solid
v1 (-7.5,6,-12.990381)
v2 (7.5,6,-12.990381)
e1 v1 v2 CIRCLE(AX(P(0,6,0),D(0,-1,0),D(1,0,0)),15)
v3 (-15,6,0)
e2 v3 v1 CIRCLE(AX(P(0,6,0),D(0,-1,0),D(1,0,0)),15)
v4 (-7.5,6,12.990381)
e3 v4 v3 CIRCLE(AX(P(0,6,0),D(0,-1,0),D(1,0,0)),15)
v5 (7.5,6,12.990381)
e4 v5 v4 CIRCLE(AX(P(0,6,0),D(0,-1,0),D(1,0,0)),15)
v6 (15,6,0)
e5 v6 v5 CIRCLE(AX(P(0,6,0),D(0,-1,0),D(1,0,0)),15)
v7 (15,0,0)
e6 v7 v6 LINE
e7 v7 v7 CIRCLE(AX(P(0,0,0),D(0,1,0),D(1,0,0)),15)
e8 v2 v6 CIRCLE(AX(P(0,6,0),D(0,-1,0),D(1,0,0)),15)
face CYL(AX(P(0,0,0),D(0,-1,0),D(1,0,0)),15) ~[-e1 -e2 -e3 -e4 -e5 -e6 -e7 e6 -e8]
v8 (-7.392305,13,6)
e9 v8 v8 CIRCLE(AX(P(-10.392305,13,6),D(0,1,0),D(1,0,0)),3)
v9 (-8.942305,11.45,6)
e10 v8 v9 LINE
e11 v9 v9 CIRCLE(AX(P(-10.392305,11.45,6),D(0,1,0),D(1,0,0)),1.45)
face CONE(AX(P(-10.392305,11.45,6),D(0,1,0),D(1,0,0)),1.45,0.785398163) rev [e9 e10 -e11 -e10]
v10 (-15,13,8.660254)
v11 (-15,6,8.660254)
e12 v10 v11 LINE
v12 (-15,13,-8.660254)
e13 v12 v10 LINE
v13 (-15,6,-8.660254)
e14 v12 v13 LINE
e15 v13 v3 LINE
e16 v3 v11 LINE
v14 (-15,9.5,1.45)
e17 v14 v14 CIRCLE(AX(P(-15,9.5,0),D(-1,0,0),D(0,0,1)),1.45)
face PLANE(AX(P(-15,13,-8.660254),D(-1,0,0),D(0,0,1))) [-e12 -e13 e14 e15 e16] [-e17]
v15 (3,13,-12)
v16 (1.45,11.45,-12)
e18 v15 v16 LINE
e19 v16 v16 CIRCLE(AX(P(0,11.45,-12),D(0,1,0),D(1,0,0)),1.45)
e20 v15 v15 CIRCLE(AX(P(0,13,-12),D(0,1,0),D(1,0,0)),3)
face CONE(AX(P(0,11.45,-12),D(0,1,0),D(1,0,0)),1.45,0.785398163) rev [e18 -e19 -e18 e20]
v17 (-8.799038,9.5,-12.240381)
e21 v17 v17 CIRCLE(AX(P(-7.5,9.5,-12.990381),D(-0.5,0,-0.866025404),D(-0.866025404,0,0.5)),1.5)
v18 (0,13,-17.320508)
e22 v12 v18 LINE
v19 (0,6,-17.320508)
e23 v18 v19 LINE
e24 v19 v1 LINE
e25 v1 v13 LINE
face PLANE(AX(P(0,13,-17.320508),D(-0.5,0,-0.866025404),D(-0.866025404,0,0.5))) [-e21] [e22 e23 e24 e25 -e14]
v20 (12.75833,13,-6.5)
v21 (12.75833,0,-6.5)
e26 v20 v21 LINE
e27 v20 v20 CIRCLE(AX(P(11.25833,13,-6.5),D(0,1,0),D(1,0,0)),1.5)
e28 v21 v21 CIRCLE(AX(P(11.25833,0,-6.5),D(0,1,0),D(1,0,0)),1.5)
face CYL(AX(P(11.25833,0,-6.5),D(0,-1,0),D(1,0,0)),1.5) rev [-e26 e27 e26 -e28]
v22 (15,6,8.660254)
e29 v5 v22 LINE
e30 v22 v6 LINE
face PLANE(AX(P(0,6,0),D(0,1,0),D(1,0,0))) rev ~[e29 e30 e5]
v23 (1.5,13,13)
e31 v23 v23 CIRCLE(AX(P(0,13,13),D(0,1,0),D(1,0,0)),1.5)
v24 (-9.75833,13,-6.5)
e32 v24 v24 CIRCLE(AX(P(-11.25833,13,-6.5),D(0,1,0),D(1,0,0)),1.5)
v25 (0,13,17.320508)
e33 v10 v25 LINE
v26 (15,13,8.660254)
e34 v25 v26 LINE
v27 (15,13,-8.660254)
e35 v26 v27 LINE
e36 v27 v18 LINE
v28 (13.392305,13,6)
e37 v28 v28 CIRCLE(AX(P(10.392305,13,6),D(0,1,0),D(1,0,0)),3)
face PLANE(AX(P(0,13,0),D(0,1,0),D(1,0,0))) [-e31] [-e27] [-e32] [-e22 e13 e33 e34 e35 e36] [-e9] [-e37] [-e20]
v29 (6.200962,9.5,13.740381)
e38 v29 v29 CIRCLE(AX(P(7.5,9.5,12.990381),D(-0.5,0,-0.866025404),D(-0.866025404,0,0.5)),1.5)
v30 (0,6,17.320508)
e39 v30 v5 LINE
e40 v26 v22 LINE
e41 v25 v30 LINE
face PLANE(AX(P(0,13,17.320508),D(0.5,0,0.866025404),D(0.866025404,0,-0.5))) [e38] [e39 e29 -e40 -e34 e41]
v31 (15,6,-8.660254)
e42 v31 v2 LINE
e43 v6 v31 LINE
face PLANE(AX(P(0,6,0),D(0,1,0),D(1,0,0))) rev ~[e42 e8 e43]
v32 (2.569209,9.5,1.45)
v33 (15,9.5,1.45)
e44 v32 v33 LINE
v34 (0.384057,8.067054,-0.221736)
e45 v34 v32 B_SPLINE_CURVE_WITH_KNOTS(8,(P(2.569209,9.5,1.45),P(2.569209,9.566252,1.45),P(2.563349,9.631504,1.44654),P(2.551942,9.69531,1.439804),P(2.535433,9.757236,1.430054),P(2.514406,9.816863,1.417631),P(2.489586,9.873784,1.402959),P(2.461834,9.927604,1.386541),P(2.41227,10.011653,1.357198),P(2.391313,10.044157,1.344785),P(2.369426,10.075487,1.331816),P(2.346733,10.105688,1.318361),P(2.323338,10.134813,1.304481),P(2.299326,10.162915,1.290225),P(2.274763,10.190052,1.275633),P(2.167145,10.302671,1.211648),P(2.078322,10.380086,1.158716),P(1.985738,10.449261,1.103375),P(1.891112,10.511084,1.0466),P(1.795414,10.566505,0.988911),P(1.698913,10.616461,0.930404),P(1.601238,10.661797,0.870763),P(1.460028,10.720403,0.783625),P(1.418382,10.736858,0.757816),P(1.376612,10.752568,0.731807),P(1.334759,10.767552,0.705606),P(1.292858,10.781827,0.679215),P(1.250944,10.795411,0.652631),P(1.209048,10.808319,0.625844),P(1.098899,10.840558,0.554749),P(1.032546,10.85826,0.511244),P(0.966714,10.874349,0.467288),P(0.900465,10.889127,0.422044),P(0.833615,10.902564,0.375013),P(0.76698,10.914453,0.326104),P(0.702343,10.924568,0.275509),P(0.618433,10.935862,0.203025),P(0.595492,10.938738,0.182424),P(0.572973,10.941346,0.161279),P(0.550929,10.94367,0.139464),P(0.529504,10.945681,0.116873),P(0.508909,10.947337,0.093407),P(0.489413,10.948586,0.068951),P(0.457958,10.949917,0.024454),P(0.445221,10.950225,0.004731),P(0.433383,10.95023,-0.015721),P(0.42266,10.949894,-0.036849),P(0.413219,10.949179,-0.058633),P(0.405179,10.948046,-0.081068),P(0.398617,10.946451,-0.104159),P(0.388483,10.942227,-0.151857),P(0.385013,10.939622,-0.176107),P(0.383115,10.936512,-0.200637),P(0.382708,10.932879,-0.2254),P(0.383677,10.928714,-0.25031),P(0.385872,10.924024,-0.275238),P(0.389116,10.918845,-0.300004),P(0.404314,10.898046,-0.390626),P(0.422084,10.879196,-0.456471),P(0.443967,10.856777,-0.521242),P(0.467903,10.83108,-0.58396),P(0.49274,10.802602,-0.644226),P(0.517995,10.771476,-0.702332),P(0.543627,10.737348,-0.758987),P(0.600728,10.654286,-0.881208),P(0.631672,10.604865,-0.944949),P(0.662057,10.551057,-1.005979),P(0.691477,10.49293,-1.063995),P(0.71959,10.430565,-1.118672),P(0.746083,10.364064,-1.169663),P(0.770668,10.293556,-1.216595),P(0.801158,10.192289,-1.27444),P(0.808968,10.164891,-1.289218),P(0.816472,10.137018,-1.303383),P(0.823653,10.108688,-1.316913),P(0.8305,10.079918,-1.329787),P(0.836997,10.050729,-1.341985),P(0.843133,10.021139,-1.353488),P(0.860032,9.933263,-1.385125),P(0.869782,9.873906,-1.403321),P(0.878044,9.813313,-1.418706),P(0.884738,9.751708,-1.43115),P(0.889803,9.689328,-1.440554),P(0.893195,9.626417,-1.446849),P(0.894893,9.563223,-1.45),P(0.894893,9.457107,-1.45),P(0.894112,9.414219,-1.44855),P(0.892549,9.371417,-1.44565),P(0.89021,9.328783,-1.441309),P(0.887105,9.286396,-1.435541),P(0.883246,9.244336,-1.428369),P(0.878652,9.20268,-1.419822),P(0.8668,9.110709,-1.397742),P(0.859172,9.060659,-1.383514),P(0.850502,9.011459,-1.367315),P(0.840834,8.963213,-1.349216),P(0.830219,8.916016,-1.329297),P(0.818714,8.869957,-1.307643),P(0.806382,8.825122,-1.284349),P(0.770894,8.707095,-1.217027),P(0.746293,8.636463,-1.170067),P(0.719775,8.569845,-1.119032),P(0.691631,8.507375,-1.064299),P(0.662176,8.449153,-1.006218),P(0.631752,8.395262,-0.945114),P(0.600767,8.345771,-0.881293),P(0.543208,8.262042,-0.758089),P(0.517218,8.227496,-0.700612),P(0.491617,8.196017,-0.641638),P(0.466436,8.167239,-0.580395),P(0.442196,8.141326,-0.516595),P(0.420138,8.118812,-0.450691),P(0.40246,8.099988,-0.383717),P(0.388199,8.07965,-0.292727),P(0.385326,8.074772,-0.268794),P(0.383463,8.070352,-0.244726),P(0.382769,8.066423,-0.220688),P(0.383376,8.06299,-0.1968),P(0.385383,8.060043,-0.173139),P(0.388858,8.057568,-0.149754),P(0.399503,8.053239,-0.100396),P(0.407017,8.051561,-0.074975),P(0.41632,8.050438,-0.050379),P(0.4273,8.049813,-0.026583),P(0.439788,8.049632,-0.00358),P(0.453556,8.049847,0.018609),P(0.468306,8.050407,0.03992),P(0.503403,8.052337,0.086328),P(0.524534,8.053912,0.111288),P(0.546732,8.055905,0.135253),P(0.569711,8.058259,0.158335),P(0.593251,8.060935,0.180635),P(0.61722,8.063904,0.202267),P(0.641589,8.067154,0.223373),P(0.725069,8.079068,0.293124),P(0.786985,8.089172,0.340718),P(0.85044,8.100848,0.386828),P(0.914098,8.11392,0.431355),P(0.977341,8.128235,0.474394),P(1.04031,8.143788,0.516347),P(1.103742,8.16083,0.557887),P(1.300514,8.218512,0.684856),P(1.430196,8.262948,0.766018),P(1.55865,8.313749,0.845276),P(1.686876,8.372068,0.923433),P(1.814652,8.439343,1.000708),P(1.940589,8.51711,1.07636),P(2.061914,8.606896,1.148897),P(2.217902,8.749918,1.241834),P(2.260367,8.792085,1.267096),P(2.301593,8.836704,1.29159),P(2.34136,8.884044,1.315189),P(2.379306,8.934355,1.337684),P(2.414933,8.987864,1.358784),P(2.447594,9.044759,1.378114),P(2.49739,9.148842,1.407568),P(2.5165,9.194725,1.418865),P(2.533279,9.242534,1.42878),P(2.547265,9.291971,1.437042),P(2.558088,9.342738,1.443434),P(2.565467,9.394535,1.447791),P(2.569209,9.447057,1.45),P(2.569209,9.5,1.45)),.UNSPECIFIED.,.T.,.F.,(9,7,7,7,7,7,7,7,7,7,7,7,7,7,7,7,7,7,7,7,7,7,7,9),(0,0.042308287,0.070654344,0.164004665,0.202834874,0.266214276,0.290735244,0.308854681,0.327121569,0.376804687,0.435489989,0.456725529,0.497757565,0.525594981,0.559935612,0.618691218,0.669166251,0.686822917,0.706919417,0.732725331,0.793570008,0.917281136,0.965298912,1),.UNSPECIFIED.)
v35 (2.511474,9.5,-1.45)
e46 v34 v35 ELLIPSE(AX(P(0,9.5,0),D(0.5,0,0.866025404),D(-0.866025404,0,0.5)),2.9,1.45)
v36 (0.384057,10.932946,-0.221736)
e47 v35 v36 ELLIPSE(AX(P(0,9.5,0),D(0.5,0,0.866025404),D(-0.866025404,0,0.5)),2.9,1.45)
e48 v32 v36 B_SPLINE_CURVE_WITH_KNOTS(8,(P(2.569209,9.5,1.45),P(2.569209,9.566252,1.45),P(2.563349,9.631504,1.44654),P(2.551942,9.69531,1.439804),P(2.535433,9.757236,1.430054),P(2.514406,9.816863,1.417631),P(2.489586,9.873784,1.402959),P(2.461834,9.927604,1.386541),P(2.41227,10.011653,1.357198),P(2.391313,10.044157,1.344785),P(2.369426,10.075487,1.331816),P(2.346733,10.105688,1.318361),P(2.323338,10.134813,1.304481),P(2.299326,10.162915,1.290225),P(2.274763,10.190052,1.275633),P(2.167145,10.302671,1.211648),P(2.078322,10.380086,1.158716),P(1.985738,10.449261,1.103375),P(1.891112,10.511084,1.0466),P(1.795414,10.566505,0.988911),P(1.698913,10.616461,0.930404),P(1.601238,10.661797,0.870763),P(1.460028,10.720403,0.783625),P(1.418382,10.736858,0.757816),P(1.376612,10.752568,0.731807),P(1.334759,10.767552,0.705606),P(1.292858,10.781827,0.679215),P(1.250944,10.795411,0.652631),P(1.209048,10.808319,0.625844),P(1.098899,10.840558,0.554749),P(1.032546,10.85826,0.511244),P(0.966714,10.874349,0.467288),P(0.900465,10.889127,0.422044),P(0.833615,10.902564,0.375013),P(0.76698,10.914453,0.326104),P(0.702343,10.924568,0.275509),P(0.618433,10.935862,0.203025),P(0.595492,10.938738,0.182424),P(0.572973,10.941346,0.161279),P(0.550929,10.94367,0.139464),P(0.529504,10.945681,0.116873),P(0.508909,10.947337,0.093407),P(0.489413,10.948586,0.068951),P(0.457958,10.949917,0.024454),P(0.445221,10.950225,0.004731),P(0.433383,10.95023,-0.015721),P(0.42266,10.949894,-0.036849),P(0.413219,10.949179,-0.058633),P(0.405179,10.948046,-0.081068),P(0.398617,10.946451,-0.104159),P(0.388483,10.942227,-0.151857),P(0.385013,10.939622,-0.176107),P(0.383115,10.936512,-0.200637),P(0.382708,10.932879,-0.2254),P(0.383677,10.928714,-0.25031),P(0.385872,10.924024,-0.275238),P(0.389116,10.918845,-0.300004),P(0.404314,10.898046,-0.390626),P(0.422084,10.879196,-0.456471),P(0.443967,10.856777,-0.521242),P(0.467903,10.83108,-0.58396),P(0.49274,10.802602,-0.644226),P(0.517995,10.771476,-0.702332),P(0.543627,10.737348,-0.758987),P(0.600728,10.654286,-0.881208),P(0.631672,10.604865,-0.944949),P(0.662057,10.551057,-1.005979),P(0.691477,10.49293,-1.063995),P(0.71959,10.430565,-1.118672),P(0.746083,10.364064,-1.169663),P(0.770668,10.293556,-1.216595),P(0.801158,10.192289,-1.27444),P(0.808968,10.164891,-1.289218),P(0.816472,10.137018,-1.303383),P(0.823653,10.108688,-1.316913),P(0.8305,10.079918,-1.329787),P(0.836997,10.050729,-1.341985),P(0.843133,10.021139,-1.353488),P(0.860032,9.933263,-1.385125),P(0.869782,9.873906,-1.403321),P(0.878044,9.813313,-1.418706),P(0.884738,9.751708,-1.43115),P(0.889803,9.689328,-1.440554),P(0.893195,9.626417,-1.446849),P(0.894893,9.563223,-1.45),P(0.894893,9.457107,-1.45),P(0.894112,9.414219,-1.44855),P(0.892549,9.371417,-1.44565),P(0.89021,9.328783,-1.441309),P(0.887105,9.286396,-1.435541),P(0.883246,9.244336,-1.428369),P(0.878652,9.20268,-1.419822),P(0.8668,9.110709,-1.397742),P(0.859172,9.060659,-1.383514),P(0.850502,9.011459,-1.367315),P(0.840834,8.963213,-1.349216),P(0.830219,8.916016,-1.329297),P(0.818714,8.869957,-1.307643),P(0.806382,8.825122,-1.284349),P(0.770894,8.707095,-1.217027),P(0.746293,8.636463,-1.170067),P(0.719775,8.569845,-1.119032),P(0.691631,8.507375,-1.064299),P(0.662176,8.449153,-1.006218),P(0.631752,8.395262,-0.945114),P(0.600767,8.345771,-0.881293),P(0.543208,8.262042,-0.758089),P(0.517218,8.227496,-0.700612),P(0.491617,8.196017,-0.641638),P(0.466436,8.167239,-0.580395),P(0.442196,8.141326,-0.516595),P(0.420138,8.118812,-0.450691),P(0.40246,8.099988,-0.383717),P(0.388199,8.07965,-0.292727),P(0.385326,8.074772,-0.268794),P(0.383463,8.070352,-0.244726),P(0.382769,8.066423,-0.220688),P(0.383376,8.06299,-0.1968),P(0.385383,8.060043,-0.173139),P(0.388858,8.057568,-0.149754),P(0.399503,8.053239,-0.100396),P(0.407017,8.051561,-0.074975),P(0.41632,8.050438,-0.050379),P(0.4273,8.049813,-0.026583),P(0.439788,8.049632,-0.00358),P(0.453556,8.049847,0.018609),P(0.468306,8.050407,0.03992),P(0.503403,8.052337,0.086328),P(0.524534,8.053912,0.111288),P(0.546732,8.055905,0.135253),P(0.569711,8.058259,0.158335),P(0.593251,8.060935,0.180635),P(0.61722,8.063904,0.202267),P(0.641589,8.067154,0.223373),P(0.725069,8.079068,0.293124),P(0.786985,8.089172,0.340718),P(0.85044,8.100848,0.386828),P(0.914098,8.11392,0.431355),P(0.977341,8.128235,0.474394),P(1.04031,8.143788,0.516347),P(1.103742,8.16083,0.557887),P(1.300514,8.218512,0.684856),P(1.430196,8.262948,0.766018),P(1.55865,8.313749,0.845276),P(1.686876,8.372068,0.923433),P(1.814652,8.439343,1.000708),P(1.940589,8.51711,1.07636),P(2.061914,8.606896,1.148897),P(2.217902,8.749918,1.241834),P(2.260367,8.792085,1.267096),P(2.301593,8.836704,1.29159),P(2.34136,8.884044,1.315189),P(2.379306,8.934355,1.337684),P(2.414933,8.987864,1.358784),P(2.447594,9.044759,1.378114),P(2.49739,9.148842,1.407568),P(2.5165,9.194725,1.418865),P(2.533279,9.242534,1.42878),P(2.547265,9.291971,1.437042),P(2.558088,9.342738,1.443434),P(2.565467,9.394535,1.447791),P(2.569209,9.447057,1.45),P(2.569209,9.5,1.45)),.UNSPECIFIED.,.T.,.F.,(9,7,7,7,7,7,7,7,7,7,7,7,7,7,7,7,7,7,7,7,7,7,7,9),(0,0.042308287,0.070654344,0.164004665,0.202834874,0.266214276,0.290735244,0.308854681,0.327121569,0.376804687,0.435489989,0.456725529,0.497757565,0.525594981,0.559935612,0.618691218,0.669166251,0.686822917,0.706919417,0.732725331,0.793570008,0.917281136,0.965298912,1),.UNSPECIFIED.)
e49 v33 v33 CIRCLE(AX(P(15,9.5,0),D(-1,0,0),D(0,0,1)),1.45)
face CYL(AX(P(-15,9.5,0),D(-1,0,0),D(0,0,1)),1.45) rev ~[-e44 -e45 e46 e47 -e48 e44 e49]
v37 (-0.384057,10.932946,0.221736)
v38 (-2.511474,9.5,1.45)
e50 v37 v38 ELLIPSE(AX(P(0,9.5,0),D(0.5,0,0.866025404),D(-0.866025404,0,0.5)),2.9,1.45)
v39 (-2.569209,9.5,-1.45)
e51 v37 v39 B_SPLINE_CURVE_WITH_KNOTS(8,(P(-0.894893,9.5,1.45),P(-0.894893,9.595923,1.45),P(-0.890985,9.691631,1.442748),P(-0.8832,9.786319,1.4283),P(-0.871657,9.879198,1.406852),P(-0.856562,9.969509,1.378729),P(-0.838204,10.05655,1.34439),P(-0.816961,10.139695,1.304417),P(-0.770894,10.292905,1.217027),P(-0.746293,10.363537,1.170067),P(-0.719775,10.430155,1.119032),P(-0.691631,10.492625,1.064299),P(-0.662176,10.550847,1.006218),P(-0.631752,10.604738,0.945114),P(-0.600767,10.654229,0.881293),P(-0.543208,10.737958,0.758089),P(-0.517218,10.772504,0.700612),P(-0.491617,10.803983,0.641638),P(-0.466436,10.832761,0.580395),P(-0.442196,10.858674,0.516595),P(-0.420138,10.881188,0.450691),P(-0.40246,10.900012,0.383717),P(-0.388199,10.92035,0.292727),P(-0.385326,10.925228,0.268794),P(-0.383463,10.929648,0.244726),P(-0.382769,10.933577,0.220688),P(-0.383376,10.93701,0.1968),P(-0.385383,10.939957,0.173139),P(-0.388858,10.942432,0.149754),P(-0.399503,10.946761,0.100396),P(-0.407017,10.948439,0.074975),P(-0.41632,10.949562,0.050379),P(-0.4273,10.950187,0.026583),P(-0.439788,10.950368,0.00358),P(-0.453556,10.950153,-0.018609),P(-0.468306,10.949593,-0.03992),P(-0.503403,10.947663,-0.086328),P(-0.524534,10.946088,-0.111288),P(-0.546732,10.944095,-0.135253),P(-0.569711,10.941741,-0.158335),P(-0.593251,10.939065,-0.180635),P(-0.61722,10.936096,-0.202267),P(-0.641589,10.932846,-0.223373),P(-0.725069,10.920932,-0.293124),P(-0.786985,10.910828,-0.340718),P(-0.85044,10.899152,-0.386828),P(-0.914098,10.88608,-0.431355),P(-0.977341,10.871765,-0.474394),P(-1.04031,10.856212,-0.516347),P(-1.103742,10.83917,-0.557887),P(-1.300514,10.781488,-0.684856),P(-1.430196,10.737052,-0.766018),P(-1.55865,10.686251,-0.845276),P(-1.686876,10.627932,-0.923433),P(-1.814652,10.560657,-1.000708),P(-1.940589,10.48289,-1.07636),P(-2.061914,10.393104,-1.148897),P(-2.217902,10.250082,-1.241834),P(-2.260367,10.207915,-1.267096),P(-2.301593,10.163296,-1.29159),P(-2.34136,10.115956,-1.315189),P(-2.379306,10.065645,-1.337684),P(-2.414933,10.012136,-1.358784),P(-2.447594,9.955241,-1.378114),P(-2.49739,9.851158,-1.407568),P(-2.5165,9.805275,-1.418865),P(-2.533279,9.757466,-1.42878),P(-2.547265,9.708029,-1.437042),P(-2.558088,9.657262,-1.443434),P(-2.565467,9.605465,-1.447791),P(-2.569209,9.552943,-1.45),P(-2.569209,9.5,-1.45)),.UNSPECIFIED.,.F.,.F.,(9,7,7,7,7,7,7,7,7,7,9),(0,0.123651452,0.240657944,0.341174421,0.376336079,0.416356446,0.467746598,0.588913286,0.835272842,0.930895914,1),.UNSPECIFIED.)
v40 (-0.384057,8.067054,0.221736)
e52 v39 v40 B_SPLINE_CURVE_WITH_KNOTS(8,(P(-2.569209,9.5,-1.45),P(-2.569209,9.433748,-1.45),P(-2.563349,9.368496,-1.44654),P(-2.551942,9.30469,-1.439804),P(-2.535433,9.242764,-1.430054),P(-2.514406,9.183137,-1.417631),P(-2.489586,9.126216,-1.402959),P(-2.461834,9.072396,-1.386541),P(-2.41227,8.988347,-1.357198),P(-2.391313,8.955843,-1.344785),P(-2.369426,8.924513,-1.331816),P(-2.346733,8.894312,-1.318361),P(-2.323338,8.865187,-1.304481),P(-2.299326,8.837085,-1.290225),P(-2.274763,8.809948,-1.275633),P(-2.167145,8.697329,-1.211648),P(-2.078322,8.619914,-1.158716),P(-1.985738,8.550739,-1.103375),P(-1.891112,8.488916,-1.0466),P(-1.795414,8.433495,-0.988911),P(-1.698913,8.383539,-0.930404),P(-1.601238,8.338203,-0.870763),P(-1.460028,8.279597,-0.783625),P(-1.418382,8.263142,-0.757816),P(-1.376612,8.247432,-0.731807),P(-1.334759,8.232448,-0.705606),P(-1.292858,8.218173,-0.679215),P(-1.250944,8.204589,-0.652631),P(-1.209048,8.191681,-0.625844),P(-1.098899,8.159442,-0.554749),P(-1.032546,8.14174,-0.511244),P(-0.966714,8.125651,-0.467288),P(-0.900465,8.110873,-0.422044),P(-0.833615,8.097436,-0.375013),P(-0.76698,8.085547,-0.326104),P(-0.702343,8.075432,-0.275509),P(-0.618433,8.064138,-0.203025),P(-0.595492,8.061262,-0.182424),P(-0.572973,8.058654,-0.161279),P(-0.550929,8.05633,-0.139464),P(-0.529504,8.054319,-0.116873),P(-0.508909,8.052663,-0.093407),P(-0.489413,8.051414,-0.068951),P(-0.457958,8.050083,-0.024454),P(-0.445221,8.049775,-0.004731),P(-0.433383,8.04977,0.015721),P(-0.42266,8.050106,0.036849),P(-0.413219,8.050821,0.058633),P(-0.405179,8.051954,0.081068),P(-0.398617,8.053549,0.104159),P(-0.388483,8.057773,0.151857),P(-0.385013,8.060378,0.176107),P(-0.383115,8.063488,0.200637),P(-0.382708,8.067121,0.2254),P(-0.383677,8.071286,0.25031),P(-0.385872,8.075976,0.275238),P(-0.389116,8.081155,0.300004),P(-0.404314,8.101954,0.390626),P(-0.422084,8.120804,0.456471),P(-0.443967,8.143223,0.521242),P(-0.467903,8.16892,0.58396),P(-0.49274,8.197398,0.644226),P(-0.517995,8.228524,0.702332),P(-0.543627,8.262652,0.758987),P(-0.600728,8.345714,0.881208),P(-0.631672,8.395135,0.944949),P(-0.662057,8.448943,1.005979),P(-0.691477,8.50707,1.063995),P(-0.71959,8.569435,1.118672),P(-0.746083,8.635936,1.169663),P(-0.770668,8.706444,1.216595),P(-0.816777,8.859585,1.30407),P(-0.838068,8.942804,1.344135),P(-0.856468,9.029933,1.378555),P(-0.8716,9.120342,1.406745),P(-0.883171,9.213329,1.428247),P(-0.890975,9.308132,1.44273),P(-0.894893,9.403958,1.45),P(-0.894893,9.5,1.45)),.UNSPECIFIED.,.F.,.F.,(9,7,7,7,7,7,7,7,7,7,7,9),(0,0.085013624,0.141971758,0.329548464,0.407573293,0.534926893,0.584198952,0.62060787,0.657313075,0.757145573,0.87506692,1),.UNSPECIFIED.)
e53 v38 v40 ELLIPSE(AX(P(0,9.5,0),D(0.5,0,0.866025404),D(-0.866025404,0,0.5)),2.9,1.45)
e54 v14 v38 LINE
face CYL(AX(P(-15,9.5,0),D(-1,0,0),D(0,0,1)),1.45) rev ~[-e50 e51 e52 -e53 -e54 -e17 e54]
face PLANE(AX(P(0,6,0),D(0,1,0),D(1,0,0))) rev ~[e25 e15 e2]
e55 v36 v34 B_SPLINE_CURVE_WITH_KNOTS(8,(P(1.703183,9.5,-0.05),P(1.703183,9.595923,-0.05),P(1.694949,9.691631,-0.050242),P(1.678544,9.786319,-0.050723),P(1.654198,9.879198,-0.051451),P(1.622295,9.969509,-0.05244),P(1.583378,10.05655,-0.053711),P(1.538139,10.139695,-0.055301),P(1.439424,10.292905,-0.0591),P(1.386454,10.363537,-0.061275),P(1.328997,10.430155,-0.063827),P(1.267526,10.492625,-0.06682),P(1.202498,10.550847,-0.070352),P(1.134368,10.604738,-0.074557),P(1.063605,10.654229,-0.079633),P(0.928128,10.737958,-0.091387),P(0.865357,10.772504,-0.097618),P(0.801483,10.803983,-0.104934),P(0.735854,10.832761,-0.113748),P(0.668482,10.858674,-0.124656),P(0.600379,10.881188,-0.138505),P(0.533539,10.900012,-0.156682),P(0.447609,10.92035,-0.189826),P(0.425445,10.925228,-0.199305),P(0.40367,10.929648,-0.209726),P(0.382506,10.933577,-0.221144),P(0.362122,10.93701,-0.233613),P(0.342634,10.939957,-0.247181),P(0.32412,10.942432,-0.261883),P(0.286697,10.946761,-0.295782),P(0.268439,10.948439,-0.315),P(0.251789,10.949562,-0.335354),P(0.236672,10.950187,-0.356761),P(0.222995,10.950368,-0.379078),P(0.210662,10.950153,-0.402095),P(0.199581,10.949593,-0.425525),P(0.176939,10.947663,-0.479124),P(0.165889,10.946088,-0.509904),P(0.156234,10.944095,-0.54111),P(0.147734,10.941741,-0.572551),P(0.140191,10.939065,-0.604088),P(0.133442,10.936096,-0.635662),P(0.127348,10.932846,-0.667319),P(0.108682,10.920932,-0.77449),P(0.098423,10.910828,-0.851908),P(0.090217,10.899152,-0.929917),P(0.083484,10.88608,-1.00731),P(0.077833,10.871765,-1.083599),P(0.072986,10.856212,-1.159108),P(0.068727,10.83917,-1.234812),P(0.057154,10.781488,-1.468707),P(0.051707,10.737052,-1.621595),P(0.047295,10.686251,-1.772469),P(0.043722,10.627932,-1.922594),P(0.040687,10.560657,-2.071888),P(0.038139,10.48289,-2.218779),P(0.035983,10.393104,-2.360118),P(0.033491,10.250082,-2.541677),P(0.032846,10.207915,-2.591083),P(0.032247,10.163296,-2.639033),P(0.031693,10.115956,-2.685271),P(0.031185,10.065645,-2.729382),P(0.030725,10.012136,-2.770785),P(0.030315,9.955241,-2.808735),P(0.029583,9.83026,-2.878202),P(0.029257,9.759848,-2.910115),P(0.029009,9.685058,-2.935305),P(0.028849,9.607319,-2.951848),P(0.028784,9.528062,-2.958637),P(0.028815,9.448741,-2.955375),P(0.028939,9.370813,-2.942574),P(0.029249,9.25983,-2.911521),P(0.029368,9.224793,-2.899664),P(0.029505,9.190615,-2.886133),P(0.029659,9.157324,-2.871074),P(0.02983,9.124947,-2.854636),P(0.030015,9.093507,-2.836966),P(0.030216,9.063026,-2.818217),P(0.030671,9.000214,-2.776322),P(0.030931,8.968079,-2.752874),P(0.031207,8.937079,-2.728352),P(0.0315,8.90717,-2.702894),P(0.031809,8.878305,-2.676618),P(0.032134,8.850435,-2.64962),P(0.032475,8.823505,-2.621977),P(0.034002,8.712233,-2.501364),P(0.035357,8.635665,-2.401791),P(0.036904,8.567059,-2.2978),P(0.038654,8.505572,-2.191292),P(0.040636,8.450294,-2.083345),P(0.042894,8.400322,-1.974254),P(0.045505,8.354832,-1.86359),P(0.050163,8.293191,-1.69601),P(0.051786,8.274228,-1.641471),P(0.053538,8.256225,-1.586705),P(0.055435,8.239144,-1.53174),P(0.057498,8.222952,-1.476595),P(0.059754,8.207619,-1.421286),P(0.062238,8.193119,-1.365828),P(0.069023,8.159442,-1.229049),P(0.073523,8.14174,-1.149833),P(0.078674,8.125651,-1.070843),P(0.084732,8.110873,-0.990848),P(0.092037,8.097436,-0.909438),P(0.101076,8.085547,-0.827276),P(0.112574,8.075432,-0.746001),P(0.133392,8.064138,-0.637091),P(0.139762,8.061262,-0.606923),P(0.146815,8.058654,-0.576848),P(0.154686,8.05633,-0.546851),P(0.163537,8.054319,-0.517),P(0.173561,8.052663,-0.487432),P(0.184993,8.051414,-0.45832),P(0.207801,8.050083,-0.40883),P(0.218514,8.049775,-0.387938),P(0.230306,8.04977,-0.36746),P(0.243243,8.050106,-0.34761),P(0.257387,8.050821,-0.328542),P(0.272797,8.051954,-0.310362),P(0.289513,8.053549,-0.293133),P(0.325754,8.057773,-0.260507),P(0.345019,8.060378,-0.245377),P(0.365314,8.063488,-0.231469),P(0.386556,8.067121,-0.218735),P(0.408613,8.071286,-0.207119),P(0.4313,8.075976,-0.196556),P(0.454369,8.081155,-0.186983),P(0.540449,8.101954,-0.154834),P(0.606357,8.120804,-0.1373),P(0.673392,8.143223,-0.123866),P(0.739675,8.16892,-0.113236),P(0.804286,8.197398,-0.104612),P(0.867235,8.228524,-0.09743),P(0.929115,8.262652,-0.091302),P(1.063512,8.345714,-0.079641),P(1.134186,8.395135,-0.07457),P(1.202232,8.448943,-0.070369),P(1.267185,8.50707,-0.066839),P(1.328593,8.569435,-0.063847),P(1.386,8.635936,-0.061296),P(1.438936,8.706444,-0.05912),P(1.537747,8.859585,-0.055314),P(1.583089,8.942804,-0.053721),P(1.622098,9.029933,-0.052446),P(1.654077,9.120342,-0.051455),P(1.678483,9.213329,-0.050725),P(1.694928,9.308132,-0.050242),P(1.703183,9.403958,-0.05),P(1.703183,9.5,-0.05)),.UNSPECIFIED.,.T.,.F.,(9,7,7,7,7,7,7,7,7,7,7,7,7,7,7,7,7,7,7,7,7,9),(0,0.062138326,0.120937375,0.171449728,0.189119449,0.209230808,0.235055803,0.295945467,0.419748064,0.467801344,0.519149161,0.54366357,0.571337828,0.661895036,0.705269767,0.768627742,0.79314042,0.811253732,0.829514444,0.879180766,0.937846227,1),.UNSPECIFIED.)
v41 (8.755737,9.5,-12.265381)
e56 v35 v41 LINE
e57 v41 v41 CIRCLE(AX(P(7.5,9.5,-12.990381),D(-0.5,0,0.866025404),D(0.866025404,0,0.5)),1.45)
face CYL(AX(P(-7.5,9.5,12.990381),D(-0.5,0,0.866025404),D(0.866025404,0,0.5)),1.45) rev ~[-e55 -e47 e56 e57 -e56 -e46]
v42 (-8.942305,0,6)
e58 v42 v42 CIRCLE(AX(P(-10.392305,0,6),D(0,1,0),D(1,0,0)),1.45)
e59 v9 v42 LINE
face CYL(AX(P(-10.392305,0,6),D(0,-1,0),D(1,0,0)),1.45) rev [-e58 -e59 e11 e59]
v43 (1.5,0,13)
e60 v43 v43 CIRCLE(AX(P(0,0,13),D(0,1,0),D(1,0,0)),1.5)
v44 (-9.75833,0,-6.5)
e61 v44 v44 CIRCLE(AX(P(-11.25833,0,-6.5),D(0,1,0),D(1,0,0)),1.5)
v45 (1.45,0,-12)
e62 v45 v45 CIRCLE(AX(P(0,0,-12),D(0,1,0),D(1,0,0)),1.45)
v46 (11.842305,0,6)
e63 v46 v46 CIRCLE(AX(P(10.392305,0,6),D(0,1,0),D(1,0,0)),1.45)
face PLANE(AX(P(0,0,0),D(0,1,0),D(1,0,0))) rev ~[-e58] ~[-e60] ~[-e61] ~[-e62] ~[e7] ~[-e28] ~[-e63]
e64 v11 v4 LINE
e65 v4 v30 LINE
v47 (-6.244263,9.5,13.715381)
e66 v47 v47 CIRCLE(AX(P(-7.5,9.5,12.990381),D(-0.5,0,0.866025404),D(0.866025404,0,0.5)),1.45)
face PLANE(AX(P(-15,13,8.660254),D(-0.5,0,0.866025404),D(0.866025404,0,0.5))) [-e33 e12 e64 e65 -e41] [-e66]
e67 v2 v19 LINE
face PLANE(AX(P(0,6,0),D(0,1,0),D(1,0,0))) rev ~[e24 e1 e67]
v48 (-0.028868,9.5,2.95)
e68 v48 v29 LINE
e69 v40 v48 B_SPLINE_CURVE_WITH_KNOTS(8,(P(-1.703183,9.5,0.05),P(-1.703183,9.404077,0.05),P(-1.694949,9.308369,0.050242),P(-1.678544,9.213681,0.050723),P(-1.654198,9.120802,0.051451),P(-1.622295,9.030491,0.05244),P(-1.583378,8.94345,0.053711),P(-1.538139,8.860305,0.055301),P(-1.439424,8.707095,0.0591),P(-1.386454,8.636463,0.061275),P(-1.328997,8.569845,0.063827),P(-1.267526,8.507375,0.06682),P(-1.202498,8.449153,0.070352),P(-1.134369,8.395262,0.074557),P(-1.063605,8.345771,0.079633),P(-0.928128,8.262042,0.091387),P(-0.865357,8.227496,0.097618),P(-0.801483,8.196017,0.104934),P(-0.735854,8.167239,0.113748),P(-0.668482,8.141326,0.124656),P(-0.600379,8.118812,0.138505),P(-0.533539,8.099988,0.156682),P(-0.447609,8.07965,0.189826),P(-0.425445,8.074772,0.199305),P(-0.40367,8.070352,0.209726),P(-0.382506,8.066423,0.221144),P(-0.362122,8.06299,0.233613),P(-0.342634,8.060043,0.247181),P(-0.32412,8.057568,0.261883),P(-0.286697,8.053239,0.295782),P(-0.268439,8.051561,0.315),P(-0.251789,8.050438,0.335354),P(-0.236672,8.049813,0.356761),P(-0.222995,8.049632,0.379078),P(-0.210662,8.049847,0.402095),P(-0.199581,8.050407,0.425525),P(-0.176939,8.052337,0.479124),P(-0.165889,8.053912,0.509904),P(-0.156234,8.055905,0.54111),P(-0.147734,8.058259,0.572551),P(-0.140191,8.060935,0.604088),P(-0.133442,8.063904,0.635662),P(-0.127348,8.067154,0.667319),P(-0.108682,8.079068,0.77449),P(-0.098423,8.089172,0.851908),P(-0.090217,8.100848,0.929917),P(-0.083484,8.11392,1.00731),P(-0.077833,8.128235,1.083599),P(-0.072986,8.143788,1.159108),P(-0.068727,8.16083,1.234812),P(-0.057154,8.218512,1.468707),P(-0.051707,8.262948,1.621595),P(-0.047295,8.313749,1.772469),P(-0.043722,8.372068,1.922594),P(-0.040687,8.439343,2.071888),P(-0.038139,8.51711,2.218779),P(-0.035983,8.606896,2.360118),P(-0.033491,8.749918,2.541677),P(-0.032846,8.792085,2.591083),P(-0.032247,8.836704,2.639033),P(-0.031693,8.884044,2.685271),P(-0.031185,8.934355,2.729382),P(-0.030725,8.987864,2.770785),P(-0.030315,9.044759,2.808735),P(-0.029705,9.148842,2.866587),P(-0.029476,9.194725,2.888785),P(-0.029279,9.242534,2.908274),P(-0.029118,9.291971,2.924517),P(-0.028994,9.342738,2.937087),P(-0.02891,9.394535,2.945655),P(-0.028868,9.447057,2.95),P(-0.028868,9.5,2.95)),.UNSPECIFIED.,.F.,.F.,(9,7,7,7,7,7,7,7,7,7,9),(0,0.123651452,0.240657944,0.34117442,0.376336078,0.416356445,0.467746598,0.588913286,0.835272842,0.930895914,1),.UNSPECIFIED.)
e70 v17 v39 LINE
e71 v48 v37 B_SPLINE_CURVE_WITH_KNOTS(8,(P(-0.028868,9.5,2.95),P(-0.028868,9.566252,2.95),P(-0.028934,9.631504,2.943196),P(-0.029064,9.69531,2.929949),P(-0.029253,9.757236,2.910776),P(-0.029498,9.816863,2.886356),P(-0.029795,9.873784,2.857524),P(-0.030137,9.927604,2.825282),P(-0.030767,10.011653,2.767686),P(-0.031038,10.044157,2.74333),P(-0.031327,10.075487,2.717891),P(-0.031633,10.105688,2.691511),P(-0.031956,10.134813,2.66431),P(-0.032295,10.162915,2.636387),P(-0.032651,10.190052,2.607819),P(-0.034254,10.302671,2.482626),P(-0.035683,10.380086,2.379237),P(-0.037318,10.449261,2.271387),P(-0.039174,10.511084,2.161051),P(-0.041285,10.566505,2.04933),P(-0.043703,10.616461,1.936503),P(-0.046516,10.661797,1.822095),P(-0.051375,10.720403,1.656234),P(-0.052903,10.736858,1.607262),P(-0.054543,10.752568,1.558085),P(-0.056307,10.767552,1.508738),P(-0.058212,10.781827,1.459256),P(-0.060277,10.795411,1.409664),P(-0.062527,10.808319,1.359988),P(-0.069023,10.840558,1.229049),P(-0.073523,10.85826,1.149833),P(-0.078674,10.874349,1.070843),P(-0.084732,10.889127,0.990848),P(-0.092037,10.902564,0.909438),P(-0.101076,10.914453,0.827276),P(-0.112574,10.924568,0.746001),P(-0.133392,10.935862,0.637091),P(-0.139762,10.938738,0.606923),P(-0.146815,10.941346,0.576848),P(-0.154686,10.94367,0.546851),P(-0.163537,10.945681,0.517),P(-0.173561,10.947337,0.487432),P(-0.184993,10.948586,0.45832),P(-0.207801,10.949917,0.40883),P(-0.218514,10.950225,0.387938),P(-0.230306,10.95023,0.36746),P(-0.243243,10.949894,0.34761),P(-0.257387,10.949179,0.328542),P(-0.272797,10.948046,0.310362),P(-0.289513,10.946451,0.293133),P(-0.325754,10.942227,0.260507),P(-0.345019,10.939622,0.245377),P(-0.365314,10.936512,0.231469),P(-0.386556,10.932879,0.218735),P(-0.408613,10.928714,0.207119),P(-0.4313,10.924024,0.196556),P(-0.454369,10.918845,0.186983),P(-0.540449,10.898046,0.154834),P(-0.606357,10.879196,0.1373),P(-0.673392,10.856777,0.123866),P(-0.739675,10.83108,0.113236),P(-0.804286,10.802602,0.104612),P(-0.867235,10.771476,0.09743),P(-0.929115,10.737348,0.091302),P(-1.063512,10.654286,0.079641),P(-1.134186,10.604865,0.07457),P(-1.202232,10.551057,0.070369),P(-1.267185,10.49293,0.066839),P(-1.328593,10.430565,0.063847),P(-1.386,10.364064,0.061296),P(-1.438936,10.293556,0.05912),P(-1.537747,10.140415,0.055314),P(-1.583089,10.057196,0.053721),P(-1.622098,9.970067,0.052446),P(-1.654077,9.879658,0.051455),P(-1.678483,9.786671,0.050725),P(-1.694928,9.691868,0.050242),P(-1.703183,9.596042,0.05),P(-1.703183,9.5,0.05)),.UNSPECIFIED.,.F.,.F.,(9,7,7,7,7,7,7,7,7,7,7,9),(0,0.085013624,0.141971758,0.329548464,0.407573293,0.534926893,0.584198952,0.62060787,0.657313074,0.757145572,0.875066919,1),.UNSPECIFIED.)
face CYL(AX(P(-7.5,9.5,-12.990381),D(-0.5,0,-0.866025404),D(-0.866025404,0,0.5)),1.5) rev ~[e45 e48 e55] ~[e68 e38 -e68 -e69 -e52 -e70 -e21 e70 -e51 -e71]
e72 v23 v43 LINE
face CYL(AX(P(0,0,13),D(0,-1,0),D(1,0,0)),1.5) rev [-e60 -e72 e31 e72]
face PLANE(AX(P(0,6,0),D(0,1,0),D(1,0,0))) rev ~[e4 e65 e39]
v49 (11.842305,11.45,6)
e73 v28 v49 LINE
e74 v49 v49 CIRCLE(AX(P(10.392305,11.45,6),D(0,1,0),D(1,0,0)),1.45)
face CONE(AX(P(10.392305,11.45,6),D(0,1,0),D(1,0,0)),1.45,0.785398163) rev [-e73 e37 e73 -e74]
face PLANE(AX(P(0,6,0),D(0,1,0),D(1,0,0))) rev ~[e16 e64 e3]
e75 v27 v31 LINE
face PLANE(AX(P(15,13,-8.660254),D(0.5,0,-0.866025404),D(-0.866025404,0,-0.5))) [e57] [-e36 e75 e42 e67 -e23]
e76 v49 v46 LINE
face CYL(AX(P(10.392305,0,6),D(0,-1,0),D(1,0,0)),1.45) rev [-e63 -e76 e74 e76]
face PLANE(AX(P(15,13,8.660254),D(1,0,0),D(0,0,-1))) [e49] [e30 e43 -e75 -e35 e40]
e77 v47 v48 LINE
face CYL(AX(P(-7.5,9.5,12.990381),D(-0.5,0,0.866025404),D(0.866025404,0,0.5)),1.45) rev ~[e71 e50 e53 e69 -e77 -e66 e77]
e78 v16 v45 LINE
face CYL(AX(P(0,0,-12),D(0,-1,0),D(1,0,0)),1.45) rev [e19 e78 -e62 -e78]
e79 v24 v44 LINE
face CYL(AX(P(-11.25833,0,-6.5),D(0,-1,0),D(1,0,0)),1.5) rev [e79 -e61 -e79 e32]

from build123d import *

# Parameters (mm, degrees)
SKETCH_1_R          = 15
SKETCH_1_R_2        = 1.45
SKETCH_1_R_3        = 1.5
EXTRUDE_1_DEPTH     = 13
SKETCH_2_R          = 1.45
SKETCH_2_R_2        = 1.5
EXTRUDE_2_DEPTH     = 7
SKETCH_3_R          = 1.45
CUT_EXTRUDE_1_DEPTH = 38.5
SKETCH_4_R          = 1.45
CUT_EXTRUDE_2_DEPTH = 38.5
SKETCH_5_R          = 1.45
CUT_EXTRUDE_3_DEPTH = 31
SKETCH_8_R          = 1.5
CUT_EXTRUDE_6_DEPTH = 38.5
CHAMFER_1_SIZE      = 1.55


with BuildPart() as part:
    # 草图1 → 凸台-拉伸1 (new body)
    with BuildSketch(Plane(origin=(0, 0, 0), x_dir=(1, 0, 0), z_dir=(0, 1, 0))):
        Circle(SKETCH_1_R)
        with Locations((0, 12)):
            Circle(SKETCH_1_R_2, mode=Mode.SUBTRACT)
        with Locations((-10.392304845, -6)):
            Circle(SKETCH_1_R_2, mode=Mode.SUBTRACT)
        with Locations((10.392304845, -6)):
            Circle(SKETCH_1_R_2, mode=Mode.SUBTRACT)
        with Locations((-11.258330249, 6.5)):
            Circle(SKETCH_1_R_3, mode=Mode.SUBTRACT)
        with Locations((0, -13)):
            Circle(SKETCH_1_R_3, mode=Mode.SUBTRACT)
        with Locations((11.258330249, 6.5)):
            Circle(SKETCH_1_R_3, mode=Mode.SUBTRACT)
    extrude(amount=EXTRUDE_1_DEPTH)

    # 草图2 → 凸台-拉伸2 (add)
    with BuildSketch(Plane(origin=(0, 13, 0), x_dir=(1, 0, 0), z_dir=(0, 1, 0))):
        Polygon((0, 17.320508076), (-15, 8.660254038), (-15, -8.660254038), (0, -17.320508076), (15, -8.660254038), (15, 8.660254038), align=None)
        with Locations((0, 12)):
            Circle(SKETCH_2_R, mode=Mode.SUBTRACT)
        with Locations((-11.258330249, 6.5)):
            Circle(SKETCH_2_R_2, mode=Mode.SUBTRACT)
        with Locations((11.258330249, 6.5)):
            Circle(SKETCH_2_R_2, mode=Mode.SUBTRACT)
        with Locations((-10.392304845, -6)):
            Circle(SKETCH_2_R, mode=Mode.SUBTRACT)
        with Locations((0, -13)):
            Circle(SKETCH_2_R_2, mode=Mode.SUBTRACT)
        with Locations((10.392304845, -6)):
            Circle(SKETCH_2_R, mode=Mode.SUBTRACT)
    extrude(amount=-EXTRUDE_2_DEPTH)

    # 草图3 → 切除-拉伸1 (cut, through all)
    with BuildSketch(Plane(origin=(7.5, 0, 12.990381057), x_dir=(0.866025404, 0, -0.5), z_dir=(0.5, 0, 0.866025404))):
        with Locations((0, 9.5)):
            Circle(SKETCH_3_R)
    extrude(amount=-CUT_EXTRUDE_1_DEPTH, mode=Mode.SUBTRACT)

    # 草图4 → 切除-拉伸2 (cut, through all)
    with BuildSketch(Plane(origin=(-7.5, 0, 12.990381057), x_dir=(0.866025404, 0, 0.5), z_dir=(-0.5, 0, 0.866025404))):
        with Locations((0, 9.5)):
            Circle(SKETCH_4_R)
    extrude(amount=-CUT_EXTRUDE_2_DEPTH, mode=Mode.SUBTRACT)

    # 草图5 → 切除-拉伸3 (cut, through all)
    with BuildSketch(Plane.ZY.offset(15)):
        with Locations((0, 9.5)):
            Circle(SKETCH_5_R)
    extrude(amount=-CUT_EXTRUDE_3_DEPTH, mode=Mode.SUBTRACT)

    # 草图8 → 切除-拉伸6 (cut, through all)
    with BuildSketch(Plane(origin=(-7.5, 0, -12.990381057), x_dir=(-0.866025404, 0, 0.5), z_dir=(-0.5, 0, -0.866025404))):
        with Locations((0, 9.5)):
            Circle(SKETCH_8_R)
    extrude(amount=-CUT_EXTRUDE_6_DEPTH, mode=Mode.SUBTRACT)

    # 倒角1
    chamfer_1_edges = [part.edges().sort_by_distance(p)[0] for p in [
        (8.942304845, 13, 6),
        (-1.45, 13, -12),
        (-11.842304845, 13, 6),
    ]]
    chamfer(chamfer_1_edges, length=CHAMFER_1_SIZE)


solid = part.part
